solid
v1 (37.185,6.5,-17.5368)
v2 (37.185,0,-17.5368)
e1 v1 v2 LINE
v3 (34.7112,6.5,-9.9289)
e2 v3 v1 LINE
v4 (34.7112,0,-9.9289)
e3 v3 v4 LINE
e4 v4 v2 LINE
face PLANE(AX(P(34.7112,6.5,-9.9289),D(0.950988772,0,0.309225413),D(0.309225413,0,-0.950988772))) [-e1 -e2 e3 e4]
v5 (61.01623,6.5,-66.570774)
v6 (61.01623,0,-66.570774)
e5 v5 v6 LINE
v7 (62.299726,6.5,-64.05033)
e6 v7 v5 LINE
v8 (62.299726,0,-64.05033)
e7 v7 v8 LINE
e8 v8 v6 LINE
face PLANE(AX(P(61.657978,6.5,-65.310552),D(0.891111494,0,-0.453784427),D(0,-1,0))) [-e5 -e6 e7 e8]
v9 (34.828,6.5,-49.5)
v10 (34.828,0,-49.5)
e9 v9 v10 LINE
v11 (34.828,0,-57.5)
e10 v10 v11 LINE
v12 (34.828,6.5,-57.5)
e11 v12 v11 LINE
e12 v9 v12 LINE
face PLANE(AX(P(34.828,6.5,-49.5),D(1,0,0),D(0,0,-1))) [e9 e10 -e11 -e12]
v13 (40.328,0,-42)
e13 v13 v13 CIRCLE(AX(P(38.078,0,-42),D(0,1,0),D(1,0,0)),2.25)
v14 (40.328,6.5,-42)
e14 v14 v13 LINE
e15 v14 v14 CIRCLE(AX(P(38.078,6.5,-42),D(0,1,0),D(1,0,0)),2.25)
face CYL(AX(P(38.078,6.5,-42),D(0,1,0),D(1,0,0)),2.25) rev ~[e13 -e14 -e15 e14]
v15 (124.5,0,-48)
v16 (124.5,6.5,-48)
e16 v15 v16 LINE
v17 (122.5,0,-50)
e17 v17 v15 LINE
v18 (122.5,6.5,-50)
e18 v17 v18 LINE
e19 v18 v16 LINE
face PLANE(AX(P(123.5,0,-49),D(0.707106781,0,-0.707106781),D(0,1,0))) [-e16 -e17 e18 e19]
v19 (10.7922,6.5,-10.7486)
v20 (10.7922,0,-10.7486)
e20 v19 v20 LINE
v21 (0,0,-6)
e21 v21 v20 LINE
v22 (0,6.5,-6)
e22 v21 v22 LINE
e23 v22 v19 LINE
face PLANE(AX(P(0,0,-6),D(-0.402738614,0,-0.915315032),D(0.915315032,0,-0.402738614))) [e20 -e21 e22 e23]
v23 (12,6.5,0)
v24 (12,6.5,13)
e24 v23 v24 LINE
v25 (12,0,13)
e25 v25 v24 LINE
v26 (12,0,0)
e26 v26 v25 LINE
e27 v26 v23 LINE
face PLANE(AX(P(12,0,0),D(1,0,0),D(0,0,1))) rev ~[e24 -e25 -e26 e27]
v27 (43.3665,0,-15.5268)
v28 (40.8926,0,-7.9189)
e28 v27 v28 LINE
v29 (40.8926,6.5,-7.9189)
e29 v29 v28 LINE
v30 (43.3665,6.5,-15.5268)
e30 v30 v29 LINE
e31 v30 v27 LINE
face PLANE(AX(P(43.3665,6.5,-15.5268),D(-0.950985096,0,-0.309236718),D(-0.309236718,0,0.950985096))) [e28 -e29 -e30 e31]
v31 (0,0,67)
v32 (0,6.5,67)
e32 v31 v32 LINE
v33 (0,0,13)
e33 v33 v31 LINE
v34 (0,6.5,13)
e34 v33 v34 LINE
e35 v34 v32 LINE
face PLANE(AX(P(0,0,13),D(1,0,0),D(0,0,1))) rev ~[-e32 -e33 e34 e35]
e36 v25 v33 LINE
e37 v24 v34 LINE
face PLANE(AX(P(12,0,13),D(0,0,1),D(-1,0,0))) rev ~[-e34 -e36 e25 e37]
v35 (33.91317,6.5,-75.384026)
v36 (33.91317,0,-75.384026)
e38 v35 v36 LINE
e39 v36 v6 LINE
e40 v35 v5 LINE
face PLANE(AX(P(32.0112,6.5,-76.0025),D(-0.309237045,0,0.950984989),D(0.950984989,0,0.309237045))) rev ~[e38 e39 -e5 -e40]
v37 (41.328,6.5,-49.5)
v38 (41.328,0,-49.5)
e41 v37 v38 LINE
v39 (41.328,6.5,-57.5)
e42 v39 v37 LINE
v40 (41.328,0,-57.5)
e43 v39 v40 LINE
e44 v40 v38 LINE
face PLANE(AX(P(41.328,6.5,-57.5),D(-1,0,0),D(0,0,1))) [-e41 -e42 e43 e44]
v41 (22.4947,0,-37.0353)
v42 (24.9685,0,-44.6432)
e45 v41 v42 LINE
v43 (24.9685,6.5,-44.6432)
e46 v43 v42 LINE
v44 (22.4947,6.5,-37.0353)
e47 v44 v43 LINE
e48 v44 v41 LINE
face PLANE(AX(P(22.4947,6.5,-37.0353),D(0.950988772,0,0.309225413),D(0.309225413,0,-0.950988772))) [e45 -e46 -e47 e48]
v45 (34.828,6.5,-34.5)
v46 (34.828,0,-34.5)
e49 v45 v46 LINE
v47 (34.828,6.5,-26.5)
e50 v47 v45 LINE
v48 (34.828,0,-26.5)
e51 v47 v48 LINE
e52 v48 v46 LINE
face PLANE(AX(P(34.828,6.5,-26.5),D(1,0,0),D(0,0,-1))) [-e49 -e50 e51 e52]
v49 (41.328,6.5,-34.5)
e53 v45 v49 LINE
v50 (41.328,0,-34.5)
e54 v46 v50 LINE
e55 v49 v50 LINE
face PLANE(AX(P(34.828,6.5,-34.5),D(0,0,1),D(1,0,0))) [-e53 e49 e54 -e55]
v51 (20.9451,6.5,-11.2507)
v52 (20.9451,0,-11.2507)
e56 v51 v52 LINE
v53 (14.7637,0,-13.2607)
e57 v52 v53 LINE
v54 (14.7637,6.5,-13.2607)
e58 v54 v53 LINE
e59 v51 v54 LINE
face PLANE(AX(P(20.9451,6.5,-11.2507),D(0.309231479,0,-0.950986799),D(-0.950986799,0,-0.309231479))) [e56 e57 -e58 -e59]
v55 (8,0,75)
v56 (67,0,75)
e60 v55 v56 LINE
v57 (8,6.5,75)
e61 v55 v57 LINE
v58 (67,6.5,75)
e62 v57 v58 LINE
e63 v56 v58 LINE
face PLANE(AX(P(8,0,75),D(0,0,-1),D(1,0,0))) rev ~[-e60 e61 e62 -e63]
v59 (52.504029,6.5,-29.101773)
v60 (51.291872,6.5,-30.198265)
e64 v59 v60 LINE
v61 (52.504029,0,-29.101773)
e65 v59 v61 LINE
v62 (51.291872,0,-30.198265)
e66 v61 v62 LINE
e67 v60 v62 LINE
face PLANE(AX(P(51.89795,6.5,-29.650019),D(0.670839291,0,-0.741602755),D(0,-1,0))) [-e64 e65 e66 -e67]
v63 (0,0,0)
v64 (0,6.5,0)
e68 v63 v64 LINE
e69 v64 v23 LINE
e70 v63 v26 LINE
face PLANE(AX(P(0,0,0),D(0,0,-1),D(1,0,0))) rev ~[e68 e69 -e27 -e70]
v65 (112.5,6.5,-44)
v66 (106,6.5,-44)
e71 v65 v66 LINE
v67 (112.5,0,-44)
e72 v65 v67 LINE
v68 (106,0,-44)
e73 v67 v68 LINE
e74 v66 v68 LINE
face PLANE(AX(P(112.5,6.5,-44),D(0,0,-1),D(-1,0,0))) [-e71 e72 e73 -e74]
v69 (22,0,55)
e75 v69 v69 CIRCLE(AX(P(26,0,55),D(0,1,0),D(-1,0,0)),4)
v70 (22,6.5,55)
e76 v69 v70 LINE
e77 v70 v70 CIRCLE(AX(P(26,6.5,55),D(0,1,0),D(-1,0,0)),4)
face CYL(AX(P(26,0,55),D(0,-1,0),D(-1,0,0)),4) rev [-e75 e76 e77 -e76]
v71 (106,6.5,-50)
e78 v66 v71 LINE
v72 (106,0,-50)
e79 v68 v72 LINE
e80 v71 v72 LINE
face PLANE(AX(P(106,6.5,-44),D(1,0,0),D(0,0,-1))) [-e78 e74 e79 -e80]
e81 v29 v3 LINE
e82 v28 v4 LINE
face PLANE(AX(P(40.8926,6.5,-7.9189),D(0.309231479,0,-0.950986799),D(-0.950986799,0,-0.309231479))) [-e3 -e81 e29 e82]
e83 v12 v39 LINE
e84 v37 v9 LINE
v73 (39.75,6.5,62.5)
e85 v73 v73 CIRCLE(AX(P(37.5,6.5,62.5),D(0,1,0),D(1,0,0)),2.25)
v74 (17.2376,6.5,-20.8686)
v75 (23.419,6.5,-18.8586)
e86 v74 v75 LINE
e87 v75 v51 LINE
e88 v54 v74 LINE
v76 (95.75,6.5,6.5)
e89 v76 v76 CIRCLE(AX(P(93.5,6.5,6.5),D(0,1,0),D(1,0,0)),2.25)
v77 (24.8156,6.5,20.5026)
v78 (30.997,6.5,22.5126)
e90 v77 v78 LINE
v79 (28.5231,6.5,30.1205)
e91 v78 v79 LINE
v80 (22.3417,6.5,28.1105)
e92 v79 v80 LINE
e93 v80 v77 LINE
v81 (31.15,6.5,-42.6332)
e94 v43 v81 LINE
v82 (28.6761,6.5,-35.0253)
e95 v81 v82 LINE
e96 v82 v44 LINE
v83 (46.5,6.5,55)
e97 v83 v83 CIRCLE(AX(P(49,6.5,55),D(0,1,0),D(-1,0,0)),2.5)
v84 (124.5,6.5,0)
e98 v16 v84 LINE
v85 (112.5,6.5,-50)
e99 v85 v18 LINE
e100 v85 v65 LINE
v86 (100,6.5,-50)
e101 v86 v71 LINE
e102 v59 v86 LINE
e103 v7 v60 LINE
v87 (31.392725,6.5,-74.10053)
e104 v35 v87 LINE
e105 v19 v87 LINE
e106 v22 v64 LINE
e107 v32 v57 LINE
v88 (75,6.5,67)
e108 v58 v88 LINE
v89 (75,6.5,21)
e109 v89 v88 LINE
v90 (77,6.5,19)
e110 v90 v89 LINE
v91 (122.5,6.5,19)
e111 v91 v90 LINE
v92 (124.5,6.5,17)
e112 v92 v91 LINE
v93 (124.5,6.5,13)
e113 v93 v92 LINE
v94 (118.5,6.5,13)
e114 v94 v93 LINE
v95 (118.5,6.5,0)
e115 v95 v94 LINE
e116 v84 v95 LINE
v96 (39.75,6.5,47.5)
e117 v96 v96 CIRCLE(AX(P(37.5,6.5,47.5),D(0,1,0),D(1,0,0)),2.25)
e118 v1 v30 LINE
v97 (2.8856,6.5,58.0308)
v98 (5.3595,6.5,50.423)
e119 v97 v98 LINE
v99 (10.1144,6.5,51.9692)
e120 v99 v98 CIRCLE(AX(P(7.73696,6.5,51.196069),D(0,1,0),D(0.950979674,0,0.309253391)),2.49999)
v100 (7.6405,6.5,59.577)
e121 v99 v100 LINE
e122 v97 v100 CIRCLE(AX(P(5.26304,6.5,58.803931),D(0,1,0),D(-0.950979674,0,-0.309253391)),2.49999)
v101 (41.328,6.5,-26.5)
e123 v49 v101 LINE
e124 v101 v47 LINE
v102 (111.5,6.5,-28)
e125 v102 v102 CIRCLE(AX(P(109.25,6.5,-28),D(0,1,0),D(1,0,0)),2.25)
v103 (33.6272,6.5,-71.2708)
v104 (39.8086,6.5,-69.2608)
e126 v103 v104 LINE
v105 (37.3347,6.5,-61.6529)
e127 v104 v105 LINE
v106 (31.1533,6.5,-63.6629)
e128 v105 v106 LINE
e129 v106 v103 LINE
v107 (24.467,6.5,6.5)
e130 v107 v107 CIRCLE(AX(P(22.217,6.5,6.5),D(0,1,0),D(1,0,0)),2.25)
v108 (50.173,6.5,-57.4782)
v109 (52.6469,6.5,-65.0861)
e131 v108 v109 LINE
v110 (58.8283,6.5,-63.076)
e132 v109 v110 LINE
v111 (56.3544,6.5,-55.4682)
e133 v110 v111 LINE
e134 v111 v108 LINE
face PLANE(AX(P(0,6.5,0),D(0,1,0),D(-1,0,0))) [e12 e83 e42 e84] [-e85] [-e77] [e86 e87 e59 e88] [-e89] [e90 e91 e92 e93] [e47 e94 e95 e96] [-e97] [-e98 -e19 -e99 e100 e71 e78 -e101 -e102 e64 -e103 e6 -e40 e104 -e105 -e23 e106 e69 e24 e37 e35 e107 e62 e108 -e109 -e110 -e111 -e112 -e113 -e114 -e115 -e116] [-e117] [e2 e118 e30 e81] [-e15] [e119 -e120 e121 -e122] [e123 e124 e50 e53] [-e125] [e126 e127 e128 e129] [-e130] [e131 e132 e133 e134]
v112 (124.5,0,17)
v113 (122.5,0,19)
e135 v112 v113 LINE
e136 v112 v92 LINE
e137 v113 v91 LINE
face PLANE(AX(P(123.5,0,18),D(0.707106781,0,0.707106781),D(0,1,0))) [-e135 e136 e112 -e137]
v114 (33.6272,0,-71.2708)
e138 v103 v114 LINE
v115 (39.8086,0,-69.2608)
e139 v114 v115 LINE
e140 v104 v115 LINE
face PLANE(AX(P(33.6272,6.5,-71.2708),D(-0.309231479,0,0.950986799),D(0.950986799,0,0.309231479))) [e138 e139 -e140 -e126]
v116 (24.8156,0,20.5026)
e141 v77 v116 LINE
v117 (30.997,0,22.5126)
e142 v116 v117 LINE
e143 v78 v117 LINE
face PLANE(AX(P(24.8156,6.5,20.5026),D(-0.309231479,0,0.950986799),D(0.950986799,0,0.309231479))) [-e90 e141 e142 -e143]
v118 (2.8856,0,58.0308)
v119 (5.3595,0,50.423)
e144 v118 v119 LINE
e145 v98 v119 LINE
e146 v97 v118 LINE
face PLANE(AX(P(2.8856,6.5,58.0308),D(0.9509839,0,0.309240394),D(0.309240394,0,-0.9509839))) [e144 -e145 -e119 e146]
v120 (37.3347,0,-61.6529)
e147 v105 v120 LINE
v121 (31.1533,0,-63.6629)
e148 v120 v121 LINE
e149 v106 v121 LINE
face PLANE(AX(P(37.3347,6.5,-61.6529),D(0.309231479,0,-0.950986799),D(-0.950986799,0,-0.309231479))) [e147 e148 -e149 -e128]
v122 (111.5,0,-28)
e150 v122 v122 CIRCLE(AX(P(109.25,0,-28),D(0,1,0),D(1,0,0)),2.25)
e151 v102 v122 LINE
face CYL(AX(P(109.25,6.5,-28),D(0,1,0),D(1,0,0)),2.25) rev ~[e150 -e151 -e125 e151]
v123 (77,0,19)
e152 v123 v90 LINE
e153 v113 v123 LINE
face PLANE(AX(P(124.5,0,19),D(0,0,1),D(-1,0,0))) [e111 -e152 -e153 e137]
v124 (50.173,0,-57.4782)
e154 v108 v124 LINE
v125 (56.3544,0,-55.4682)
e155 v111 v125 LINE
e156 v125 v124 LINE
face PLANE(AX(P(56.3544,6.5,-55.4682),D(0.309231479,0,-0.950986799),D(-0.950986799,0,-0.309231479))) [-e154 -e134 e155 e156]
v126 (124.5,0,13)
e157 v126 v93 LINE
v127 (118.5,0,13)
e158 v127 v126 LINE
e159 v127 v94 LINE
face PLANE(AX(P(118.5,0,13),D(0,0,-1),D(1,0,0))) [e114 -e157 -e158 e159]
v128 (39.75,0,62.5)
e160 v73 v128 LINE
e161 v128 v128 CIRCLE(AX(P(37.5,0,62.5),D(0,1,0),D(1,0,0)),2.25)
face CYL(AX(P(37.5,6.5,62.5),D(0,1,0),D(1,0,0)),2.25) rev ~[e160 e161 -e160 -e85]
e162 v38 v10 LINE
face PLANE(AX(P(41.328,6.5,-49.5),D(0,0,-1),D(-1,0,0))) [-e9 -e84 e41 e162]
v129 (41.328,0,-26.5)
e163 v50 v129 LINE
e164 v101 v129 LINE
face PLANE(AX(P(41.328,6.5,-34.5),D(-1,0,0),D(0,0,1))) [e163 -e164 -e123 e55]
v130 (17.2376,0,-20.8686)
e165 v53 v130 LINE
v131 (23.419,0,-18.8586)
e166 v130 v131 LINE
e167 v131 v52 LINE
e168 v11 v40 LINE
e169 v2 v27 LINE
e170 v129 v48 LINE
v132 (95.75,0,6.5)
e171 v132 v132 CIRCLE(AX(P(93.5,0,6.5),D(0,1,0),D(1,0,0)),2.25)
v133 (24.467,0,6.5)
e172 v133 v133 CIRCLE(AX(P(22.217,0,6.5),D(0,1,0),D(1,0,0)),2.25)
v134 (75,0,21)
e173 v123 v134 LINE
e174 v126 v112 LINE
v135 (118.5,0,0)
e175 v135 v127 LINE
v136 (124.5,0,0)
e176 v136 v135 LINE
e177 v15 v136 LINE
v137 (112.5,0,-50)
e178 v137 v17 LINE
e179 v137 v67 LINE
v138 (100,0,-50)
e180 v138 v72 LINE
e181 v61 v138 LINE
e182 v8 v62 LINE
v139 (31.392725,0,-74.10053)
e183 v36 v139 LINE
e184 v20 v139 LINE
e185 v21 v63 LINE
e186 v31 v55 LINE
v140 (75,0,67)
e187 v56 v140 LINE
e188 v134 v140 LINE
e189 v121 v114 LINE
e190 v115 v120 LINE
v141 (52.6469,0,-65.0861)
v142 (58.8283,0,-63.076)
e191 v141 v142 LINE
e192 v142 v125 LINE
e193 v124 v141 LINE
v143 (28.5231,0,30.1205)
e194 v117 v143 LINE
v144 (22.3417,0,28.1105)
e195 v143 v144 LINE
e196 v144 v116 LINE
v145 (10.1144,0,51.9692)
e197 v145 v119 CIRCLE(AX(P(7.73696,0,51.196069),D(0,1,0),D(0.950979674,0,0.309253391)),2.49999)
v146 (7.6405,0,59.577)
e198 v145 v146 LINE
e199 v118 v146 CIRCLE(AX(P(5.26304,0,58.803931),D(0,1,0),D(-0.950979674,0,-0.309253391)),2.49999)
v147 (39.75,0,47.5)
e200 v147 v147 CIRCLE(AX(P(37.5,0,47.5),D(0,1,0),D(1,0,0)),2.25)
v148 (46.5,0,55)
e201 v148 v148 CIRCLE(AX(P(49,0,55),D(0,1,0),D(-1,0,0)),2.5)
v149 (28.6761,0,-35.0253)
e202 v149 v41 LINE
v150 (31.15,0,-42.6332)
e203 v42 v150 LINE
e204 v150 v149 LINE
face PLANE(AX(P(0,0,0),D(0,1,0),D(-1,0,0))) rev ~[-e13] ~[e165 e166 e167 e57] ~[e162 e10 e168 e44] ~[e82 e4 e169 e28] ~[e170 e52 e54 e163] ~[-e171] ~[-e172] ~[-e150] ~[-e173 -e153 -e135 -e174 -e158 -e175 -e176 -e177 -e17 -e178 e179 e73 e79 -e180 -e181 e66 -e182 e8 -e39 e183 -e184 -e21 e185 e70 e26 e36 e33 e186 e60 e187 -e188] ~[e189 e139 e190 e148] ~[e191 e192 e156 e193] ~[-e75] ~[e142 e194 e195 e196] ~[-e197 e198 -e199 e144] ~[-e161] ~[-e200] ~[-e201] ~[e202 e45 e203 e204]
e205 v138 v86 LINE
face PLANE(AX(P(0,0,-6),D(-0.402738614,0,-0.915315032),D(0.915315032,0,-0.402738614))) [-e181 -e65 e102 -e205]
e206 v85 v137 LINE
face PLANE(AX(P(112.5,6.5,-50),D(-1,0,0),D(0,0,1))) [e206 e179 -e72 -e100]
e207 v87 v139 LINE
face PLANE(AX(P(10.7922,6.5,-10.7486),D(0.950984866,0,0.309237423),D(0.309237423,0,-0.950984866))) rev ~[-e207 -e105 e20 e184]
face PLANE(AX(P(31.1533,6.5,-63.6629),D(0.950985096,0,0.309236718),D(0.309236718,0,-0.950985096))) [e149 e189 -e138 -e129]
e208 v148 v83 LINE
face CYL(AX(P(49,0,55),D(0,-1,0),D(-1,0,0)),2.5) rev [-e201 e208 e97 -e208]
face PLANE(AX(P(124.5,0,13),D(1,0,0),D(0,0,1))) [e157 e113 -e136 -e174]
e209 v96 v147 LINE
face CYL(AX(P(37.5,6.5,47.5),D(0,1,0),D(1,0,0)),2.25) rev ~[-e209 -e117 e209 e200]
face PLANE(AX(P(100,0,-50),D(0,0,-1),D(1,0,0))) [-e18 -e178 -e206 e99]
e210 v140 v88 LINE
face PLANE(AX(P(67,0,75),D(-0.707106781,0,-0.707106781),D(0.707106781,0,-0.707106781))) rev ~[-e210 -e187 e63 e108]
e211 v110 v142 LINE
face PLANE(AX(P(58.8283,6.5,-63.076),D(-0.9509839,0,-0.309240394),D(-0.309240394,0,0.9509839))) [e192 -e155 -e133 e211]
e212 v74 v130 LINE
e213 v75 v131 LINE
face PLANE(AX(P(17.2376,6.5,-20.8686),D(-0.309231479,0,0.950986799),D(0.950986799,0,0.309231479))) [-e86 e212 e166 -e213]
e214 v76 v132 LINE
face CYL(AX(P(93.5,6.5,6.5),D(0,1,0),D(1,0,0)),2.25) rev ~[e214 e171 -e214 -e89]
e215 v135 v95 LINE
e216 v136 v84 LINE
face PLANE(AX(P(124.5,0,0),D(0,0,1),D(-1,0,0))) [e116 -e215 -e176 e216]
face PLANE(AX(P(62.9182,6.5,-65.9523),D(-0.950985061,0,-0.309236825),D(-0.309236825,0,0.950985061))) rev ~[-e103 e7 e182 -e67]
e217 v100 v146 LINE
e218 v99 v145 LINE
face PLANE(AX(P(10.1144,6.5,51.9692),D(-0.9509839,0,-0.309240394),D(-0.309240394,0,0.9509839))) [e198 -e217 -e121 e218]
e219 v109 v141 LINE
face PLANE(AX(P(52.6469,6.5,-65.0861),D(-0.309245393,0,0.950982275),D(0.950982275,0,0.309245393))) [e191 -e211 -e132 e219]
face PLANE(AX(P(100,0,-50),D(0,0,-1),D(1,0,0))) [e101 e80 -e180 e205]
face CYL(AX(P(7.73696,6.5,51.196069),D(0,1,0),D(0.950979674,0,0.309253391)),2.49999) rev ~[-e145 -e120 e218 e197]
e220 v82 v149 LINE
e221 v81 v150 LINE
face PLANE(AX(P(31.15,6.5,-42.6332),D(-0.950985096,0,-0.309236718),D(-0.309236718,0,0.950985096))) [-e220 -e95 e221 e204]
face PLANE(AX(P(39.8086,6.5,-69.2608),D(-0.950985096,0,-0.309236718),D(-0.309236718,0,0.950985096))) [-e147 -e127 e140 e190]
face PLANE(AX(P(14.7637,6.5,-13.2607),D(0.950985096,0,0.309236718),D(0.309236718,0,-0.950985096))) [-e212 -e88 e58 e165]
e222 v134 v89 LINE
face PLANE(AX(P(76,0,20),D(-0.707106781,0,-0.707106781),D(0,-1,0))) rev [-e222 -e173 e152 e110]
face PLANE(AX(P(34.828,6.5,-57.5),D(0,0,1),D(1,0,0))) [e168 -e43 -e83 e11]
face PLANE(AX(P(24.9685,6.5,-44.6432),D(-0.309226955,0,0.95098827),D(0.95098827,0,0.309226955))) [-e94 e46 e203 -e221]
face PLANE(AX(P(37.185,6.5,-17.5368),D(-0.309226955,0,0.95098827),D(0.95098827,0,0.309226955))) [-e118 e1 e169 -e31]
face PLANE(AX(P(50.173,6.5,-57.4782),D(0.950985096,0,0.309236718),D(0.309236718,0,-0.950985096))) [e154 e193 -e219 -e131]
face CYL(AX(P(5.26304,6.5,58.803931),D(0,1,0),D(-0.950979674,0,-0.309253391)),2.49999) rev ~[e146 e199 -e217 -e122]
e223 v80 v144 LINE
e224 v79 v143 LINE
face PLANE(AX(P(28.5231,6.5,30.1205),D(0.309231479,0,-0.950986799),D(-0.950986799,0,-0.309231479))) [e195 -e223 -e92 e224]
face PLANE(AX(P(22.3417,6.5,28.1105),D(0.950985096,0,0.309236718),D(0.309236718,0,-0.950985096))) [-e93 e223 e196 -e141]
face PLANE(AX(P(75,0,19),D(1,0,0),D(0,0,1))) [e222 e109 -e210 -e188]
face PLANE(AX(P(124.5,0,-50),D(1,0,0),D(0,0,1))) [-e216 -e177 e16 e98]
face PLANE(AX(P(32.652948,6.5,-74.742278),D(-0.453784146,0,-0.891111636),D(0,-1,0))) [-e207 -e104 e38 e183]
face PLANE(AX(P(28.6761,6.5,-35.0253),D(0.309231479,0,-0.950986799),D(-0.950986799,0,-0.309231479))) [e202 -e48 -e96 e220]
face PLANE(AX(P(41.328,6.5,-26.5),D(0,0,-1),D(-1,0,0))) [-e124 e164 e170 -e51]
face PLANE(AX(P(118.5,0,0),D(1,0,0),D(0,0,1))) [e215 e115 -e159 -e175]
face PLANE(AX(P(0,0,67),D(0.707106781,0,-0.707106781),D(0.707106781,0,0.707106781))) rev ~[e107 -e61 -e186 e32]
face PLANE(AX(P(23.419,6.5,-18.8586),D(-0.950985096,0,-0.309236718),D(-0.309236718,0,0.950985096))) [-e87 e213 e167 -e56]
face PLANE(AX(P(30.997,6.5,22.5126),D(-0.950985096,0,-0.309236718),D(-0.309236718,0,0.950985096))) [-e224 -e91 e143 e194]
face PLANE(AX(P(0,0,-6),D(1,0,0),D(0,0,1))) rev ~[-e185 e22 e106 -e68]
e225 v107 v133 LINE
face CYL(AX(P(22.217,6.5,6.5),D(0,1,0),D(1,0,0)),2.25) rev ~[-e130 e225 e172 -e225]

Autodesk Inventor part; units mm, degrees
ref_plane "YZ Plane" through (0, 0, 0) normal (1, 0, 0) x (0, 1, 0)
ref_plane "XZ Plane" through (0, 0, 0) normal (0, 1, 0) x (-1, 0, 0)
ref_plane "XY Plane" through (0, 0, 0) normal (0, 0, 1) x (1, 0, 0)
sketch "Sketch1" plane through (0, 0, 0) normal (0, 1, 0) x (-1, 0, 0)
  line L0 (0, -6) -> (0, 0)
  line L1 (0, 0) -> (-12, 0)
  line L2 (-12, 0) -> (-12, 13)
  line L3 (-12, 13) -> (0, 13)
  line L4 (0, 13) -> (0, 67)
  line L5 (0, 67) -> (-8, 75)
  line L6 (-8, 75) -> (-67, 75)
  line L7 (-67, 75) -> (-75, 67)
  line L8 (0, -6) -> (-100, -50)
  line L9 (-100, -50) -> (-124.5, -50)
  line L10 (-124.5, -50) -> (-124.5, 0)
  line L11 (-124.5, 0) -> (-118.5, 0)
  line L12 (-118.5, 0) -> (-118.5, 13)
  line L13 (-118.5, 13) -> (-124.5, 13)
  line L14 (-124.5, 13) -> (-124.5, 19)
  line L15 (-124.5, 19) -> (-75, 19)
  line L16 (-75, 19) -> (-75, 67)
  circle A0 centre (-26, 55) radius 4
  circle A1 centre (-49, 55) radius 2.5
  line L17 (-106, -50) -> (-112.5, -50) construction
  line L18 (-112.5, -50) -> (-112.5, 13) construction
  line L19 (-112.5, 13) -> (-106, 13) construction
  line L20 (-106, 13) -> (-106, -50) construction
  dimension "d0" = 13
  dimension "d1" = 12
  dimension "d2" = 6
  dimension "d3" = 6
  dimension "d4" = 6
  dimension "d6" = 75
  dimension "d7" = 8
  dimension "d8" = 5
  dimension "d9" = 23
  dimension "d10" = 106.5
  dimension "d11" = 45
  dimension "d12" = 8
  dimension "d13" = 6.5
  dimension "d14" = 6
  dimension "d15" = 6
  dimension "d16" = 42
  dimension "d17" = 20
  dimension "d18" = 50
  dimension "d19" = 26
extrude "Extrusion1" add sketch "Sketch1" along normal blind 6.5
sketch "Sketch3" plane through (0, 6.5, 0) normal (0, 1, 0) x (1, 0, 0)
  line L0 (124.5, 0) -> (124.5, 50) projected
  line L1 (124.5, 50) -> (100, 50) projected
  line L2 (106, 50) -> (112.5, 50)
  line L3 (112.5, 50) -> (112.5, 44)
  line L4 (112.5, 44) -> (106, 44)
  line L5 (106, 44) -> (106, 50)
  dimension "d27" = 6
  dimension "d28" = 6.5
  dimension "d29" = 12
extrude "Extrusion3" cut sketch "Sketch3" against normal through all
chamfer "Chamfer1" distance 2 angle 45 3 edges at (75, 3.25, 19) (124.5, 3.25, 19) (124.5, 3.25, -50)
sketch "Sketch4" plane through (0, 6.5, 0) normal (0, 1, 0) x (1, 0, 0)
  line L0 (124.5, 0) -> (124.5, 48) projected
  circle A0 centre (26, -55) radius 4 projected
  circle A1 centre (49, -55) radius 2.5 projected
  circle A2 centre (37.5, -47.5) radius 2.25
  circle A3 centre (37.5, -62.5) radius 2.25
  line L1 (37.5, -47.5) -> (37.5, -62.5) construction
  line L2 (26, -55) -> (49, -55) construction
  point P0 (37.5, -55)
  dimension "d35" = 15
  dimension "d36" = 4.5
extrude "Extrusion4" cut sketch "Sketch4" against normal through all contours A2 | A3
sketch "Sketch5" plane through (0, 6.5, 0) normal (0, 1, 0) x (1, 0, 0)
  line L0 (106, 44) -> (106, 50) projected
  line L1 (100, 50) -> (0, 6) projected
  line L2 (0, 6) -> (0, 0) projected
  line L3 (0, 0) -> (12, 0) projected
  line L4 (12, -13) -> (0, -13) projected
  line L5 (0, -13) -> (0, -67) projected
  line L6 (53, 88) -> (6.5, -55) construction
  line L7 (10.7922, 10.7486) -> (32.0112, 76.0025)
  line L8 (32.0112, 76.0025) -> (62.9182, 65.9523)
  line L9 (62.9182, 65.9523) -> (50.6734, 28.2963)
  line L10 (50.6734, 28.2963) -> (10.7922, 10.7486)
  circle A0 centre (6.5, -55) radius 0.9 construction
  circle A1 centre (53, 88) radius 0.9 construction
  point P0 (47.4647, 70.9774)
  dimension "d39" = 42
  dimension "d40" = 6.5
  dimension "d41" = 106
  dimension "d42" = 53
  dimension "d43" = 88
  dimension "d44" = 32.5
  dimension "d45" = 1.8
  dimension "d46" = 17.9
extrude "Extrusion5" add sketch "Sketch5" against normal blind 6.5
sketch "Sketch6" plane through (0, 6.5, 0) normal (0, 1, 0) x (1, 0, 0)
  line L0 (50.6734, 28.2963) -> (62.9182, 65.9523) projected
  line L1 (62.9182, 65.9523) -> (32.0112, 76.0025) projected
  line L2 (32.0112, 76.0025) -> (10.7922, 10.7486) projected
  line L3 (33.6272, 71.2708) -> (39.8086, 69.2608)
  line L4 (39.8086, 69.2608) -> (37.3347, 61.6529)
  line L5 (37.3347, 61.6529) -> (31.1533, 63.6629)
  line L6 (31.1533, 63.6629) -> (33.6272, 71.2708)
  line L7 (52.6469, 65.0861) -> (58.8283, 63.076)
  line L8 (58.8283, 63.076) -> (56.3544, 55.4682)
  line L9 (56.3544, 55.4682) -> (50.173, 57.4782)
  line L10 (50.173, 57.4782) -> (52.6469, 65.0861)
  line L11 (17.2376, 20.8686) -> (23.419, 18.8586)
  line L12 (23.419, 18.8586) -> (20.9451, 11.2507)
  line L13 (20.9451, 11.2507) -> (14.7637, 13.2607)
  line L14 (14.7637, 13.2607) -> (17.2376, 20.8686)
  line L15 (24.8156, -20.5026) -> (30.997, -22.5126)
  line L16 (30.997, -22.5126) -> (28.5231, -30.1205)
  line L17 (28.5231, -30.1205) -> (22.3417, -28.1105)
  line L18 (22.3417, -28.1105) -> (24.8156, -20.5026)
  line L19 (24.9685, 44.6432) -> (31.15, 42.6332)
  line L20 (31.15, 42.6332) -> (28.6761, 35.0253)
  line L21 (28.6761, 35.0253) -> (22.4947, 37.0353)
  line L22 (22.4947, 37.0353) -> (24.9685, 44.6432)
  line L23 (37.185, 17.5368) -> (43.3665, 15.5268)
  line L24 (43.3665, 15.5268) -> (40.8926, 7.9189)
  line L25 (40.8926, 7.9189) -> (34.7112, 9.9289)
  line L26 (34.7112, 9.9289) -> (37.185, 17.5368)
  dimension "d49" = 6.5
  dimension "d50" = 3
  dimension "d52" = 3
  dimension "d53" = 4
  dimension "d54" = 8
  dimension "d57" = 45
  dimension "d58" = 20
  dimension "d59" = 82
  dimension "d60" = 42
extrude "Extrusion6" cut sketch "Sketch6" against normal through all
sketch "Sketch7" plane through (0, 6.5, 0) normal (0, 1, 0) x (1, 0, 0)
  line L0 (32.0112, 76.0025) -> (10.7922, 10.7486) projected
  line L1 (12, -13) -> (0, -13) projected
  line L2 (0, -13) -> (0, -67) projected
  line L3 (5.2631, -58.8039) -> (7.7369, -51.1961) construction
  line L4 (2.8856, -58.0308) -> (5.3595, -50.423)
  line L5 (10.1144, -51.9692) -> (7.6405, -59.577)
  arc A0 (2.8856, -58.0308) -> (7.6405, -59.577) centre (5.2631, -58.8039) ccw
  arc A1 (10.1144, -51.9692) -> (5.3595, -50.423) centre (7.7369, -51.1961) ccw
  point P0 (6.5, -55)
  point P1 (6.5, -55)
  dimension "d63" = 42
  dimension "d64" = 6.5
  dimension "d65" = 5
  dimension "d66" = 8
extrude "Extrusion7" cut sketch "Sketch7" against normal through all
chamfer "Chamfer2" distance 2 angle 45 3 edges at (32.0112, 3.25, -76.0025) (62.9182, 3.25, -65.9523) (50.6734, 3.25, -28.2963)
sketch "Sketch8" plane through (0, 6.5, 0) normal (0, 1, 0) x (1, 0, 0)
  line L0 (12, 0) -> (12, -13) projected
  line L1 (0, -13) -> (0, -67) projected
  circle A0 centre (22.217, -6.5) radius 2.25
  point P0 (12, -6.5)
  dimension "d72" = 4.5
  dimension "d73" = 22.217
extrude "Extrusion8" cut sketch "Sketch8" against normal through all
sketch "Sketch9" plane through (0, 6.5, 0) normal (0, 1, 0) x (1, 0, 0)
  line L0 (0, 6) -> (0, 0) projected
  line L1 (0, 0) -> (12, 0) projected
  line L2 (34.828, 57.5) -> (41.328, 57.5)
  line L3 (41.328, 57.5) -> (41.328, 49.5)
  line L4 (41.328, 49.5) -> (34.828, 49.5)
  line L5 (34.828, 49.5) -> (34.828, 57.5)
  line L6 (34.828, 34.5) -> (41.328, 34.5)
  line L7 (41.328, 34.5) -> (41.328, 26.5)
  line L8 (41.328, 26.5) -> (34.828, 26.5)
  line L9 (34.828, 26.5) -> (34.828, 34.5)
  circle A0 centre (38.078, 42) radius 2.25
  point P0 (38.078, 49.5)
  dimension "d76" = 8
  dimension "d77" = 6.5
  dimension "d78" = 15
  dimension "d79" = 4.5
  dimension "d80" = 7.5
  dimension "d81" = 38.078
  dimension "d82" = 42
extrude "Extrusion9" cut sketch "Sketch9" against normal through all
sketch "Sketch10" plane through (0, 6.5, 0) normal (0, 1, 0) x (1, 0, 0)
  circle A0 centre (22.217, -6.5) radius 2.25 projected
  line L0 (118.5, -13) -> (118.5, 0) projected
  line L1 (118.5, 0) -> (124.5, 0) projected
  line L2 (112.5, 44) -> (106, 44) projected
  circle A1 centre (93.5, -6.5) radius 2.25
  circle A2 centre (109.25, 28) radius 2.25
  point P0 (109.25, 44)
  dimension "d85" = 25
  dimension "d86" = 28
extrude "Extrusion10" cut sketch "Sketch10" against normal through all contours A1 | A2
equation "\"d2\" = d3"
equation "\"d4\" = d3"
equation "\"d42\" = 0.5 * d41"
equation "\"d80\" = 0.5 * d78"
properties part number "z_axis_top" material "Plywood, Finish"
